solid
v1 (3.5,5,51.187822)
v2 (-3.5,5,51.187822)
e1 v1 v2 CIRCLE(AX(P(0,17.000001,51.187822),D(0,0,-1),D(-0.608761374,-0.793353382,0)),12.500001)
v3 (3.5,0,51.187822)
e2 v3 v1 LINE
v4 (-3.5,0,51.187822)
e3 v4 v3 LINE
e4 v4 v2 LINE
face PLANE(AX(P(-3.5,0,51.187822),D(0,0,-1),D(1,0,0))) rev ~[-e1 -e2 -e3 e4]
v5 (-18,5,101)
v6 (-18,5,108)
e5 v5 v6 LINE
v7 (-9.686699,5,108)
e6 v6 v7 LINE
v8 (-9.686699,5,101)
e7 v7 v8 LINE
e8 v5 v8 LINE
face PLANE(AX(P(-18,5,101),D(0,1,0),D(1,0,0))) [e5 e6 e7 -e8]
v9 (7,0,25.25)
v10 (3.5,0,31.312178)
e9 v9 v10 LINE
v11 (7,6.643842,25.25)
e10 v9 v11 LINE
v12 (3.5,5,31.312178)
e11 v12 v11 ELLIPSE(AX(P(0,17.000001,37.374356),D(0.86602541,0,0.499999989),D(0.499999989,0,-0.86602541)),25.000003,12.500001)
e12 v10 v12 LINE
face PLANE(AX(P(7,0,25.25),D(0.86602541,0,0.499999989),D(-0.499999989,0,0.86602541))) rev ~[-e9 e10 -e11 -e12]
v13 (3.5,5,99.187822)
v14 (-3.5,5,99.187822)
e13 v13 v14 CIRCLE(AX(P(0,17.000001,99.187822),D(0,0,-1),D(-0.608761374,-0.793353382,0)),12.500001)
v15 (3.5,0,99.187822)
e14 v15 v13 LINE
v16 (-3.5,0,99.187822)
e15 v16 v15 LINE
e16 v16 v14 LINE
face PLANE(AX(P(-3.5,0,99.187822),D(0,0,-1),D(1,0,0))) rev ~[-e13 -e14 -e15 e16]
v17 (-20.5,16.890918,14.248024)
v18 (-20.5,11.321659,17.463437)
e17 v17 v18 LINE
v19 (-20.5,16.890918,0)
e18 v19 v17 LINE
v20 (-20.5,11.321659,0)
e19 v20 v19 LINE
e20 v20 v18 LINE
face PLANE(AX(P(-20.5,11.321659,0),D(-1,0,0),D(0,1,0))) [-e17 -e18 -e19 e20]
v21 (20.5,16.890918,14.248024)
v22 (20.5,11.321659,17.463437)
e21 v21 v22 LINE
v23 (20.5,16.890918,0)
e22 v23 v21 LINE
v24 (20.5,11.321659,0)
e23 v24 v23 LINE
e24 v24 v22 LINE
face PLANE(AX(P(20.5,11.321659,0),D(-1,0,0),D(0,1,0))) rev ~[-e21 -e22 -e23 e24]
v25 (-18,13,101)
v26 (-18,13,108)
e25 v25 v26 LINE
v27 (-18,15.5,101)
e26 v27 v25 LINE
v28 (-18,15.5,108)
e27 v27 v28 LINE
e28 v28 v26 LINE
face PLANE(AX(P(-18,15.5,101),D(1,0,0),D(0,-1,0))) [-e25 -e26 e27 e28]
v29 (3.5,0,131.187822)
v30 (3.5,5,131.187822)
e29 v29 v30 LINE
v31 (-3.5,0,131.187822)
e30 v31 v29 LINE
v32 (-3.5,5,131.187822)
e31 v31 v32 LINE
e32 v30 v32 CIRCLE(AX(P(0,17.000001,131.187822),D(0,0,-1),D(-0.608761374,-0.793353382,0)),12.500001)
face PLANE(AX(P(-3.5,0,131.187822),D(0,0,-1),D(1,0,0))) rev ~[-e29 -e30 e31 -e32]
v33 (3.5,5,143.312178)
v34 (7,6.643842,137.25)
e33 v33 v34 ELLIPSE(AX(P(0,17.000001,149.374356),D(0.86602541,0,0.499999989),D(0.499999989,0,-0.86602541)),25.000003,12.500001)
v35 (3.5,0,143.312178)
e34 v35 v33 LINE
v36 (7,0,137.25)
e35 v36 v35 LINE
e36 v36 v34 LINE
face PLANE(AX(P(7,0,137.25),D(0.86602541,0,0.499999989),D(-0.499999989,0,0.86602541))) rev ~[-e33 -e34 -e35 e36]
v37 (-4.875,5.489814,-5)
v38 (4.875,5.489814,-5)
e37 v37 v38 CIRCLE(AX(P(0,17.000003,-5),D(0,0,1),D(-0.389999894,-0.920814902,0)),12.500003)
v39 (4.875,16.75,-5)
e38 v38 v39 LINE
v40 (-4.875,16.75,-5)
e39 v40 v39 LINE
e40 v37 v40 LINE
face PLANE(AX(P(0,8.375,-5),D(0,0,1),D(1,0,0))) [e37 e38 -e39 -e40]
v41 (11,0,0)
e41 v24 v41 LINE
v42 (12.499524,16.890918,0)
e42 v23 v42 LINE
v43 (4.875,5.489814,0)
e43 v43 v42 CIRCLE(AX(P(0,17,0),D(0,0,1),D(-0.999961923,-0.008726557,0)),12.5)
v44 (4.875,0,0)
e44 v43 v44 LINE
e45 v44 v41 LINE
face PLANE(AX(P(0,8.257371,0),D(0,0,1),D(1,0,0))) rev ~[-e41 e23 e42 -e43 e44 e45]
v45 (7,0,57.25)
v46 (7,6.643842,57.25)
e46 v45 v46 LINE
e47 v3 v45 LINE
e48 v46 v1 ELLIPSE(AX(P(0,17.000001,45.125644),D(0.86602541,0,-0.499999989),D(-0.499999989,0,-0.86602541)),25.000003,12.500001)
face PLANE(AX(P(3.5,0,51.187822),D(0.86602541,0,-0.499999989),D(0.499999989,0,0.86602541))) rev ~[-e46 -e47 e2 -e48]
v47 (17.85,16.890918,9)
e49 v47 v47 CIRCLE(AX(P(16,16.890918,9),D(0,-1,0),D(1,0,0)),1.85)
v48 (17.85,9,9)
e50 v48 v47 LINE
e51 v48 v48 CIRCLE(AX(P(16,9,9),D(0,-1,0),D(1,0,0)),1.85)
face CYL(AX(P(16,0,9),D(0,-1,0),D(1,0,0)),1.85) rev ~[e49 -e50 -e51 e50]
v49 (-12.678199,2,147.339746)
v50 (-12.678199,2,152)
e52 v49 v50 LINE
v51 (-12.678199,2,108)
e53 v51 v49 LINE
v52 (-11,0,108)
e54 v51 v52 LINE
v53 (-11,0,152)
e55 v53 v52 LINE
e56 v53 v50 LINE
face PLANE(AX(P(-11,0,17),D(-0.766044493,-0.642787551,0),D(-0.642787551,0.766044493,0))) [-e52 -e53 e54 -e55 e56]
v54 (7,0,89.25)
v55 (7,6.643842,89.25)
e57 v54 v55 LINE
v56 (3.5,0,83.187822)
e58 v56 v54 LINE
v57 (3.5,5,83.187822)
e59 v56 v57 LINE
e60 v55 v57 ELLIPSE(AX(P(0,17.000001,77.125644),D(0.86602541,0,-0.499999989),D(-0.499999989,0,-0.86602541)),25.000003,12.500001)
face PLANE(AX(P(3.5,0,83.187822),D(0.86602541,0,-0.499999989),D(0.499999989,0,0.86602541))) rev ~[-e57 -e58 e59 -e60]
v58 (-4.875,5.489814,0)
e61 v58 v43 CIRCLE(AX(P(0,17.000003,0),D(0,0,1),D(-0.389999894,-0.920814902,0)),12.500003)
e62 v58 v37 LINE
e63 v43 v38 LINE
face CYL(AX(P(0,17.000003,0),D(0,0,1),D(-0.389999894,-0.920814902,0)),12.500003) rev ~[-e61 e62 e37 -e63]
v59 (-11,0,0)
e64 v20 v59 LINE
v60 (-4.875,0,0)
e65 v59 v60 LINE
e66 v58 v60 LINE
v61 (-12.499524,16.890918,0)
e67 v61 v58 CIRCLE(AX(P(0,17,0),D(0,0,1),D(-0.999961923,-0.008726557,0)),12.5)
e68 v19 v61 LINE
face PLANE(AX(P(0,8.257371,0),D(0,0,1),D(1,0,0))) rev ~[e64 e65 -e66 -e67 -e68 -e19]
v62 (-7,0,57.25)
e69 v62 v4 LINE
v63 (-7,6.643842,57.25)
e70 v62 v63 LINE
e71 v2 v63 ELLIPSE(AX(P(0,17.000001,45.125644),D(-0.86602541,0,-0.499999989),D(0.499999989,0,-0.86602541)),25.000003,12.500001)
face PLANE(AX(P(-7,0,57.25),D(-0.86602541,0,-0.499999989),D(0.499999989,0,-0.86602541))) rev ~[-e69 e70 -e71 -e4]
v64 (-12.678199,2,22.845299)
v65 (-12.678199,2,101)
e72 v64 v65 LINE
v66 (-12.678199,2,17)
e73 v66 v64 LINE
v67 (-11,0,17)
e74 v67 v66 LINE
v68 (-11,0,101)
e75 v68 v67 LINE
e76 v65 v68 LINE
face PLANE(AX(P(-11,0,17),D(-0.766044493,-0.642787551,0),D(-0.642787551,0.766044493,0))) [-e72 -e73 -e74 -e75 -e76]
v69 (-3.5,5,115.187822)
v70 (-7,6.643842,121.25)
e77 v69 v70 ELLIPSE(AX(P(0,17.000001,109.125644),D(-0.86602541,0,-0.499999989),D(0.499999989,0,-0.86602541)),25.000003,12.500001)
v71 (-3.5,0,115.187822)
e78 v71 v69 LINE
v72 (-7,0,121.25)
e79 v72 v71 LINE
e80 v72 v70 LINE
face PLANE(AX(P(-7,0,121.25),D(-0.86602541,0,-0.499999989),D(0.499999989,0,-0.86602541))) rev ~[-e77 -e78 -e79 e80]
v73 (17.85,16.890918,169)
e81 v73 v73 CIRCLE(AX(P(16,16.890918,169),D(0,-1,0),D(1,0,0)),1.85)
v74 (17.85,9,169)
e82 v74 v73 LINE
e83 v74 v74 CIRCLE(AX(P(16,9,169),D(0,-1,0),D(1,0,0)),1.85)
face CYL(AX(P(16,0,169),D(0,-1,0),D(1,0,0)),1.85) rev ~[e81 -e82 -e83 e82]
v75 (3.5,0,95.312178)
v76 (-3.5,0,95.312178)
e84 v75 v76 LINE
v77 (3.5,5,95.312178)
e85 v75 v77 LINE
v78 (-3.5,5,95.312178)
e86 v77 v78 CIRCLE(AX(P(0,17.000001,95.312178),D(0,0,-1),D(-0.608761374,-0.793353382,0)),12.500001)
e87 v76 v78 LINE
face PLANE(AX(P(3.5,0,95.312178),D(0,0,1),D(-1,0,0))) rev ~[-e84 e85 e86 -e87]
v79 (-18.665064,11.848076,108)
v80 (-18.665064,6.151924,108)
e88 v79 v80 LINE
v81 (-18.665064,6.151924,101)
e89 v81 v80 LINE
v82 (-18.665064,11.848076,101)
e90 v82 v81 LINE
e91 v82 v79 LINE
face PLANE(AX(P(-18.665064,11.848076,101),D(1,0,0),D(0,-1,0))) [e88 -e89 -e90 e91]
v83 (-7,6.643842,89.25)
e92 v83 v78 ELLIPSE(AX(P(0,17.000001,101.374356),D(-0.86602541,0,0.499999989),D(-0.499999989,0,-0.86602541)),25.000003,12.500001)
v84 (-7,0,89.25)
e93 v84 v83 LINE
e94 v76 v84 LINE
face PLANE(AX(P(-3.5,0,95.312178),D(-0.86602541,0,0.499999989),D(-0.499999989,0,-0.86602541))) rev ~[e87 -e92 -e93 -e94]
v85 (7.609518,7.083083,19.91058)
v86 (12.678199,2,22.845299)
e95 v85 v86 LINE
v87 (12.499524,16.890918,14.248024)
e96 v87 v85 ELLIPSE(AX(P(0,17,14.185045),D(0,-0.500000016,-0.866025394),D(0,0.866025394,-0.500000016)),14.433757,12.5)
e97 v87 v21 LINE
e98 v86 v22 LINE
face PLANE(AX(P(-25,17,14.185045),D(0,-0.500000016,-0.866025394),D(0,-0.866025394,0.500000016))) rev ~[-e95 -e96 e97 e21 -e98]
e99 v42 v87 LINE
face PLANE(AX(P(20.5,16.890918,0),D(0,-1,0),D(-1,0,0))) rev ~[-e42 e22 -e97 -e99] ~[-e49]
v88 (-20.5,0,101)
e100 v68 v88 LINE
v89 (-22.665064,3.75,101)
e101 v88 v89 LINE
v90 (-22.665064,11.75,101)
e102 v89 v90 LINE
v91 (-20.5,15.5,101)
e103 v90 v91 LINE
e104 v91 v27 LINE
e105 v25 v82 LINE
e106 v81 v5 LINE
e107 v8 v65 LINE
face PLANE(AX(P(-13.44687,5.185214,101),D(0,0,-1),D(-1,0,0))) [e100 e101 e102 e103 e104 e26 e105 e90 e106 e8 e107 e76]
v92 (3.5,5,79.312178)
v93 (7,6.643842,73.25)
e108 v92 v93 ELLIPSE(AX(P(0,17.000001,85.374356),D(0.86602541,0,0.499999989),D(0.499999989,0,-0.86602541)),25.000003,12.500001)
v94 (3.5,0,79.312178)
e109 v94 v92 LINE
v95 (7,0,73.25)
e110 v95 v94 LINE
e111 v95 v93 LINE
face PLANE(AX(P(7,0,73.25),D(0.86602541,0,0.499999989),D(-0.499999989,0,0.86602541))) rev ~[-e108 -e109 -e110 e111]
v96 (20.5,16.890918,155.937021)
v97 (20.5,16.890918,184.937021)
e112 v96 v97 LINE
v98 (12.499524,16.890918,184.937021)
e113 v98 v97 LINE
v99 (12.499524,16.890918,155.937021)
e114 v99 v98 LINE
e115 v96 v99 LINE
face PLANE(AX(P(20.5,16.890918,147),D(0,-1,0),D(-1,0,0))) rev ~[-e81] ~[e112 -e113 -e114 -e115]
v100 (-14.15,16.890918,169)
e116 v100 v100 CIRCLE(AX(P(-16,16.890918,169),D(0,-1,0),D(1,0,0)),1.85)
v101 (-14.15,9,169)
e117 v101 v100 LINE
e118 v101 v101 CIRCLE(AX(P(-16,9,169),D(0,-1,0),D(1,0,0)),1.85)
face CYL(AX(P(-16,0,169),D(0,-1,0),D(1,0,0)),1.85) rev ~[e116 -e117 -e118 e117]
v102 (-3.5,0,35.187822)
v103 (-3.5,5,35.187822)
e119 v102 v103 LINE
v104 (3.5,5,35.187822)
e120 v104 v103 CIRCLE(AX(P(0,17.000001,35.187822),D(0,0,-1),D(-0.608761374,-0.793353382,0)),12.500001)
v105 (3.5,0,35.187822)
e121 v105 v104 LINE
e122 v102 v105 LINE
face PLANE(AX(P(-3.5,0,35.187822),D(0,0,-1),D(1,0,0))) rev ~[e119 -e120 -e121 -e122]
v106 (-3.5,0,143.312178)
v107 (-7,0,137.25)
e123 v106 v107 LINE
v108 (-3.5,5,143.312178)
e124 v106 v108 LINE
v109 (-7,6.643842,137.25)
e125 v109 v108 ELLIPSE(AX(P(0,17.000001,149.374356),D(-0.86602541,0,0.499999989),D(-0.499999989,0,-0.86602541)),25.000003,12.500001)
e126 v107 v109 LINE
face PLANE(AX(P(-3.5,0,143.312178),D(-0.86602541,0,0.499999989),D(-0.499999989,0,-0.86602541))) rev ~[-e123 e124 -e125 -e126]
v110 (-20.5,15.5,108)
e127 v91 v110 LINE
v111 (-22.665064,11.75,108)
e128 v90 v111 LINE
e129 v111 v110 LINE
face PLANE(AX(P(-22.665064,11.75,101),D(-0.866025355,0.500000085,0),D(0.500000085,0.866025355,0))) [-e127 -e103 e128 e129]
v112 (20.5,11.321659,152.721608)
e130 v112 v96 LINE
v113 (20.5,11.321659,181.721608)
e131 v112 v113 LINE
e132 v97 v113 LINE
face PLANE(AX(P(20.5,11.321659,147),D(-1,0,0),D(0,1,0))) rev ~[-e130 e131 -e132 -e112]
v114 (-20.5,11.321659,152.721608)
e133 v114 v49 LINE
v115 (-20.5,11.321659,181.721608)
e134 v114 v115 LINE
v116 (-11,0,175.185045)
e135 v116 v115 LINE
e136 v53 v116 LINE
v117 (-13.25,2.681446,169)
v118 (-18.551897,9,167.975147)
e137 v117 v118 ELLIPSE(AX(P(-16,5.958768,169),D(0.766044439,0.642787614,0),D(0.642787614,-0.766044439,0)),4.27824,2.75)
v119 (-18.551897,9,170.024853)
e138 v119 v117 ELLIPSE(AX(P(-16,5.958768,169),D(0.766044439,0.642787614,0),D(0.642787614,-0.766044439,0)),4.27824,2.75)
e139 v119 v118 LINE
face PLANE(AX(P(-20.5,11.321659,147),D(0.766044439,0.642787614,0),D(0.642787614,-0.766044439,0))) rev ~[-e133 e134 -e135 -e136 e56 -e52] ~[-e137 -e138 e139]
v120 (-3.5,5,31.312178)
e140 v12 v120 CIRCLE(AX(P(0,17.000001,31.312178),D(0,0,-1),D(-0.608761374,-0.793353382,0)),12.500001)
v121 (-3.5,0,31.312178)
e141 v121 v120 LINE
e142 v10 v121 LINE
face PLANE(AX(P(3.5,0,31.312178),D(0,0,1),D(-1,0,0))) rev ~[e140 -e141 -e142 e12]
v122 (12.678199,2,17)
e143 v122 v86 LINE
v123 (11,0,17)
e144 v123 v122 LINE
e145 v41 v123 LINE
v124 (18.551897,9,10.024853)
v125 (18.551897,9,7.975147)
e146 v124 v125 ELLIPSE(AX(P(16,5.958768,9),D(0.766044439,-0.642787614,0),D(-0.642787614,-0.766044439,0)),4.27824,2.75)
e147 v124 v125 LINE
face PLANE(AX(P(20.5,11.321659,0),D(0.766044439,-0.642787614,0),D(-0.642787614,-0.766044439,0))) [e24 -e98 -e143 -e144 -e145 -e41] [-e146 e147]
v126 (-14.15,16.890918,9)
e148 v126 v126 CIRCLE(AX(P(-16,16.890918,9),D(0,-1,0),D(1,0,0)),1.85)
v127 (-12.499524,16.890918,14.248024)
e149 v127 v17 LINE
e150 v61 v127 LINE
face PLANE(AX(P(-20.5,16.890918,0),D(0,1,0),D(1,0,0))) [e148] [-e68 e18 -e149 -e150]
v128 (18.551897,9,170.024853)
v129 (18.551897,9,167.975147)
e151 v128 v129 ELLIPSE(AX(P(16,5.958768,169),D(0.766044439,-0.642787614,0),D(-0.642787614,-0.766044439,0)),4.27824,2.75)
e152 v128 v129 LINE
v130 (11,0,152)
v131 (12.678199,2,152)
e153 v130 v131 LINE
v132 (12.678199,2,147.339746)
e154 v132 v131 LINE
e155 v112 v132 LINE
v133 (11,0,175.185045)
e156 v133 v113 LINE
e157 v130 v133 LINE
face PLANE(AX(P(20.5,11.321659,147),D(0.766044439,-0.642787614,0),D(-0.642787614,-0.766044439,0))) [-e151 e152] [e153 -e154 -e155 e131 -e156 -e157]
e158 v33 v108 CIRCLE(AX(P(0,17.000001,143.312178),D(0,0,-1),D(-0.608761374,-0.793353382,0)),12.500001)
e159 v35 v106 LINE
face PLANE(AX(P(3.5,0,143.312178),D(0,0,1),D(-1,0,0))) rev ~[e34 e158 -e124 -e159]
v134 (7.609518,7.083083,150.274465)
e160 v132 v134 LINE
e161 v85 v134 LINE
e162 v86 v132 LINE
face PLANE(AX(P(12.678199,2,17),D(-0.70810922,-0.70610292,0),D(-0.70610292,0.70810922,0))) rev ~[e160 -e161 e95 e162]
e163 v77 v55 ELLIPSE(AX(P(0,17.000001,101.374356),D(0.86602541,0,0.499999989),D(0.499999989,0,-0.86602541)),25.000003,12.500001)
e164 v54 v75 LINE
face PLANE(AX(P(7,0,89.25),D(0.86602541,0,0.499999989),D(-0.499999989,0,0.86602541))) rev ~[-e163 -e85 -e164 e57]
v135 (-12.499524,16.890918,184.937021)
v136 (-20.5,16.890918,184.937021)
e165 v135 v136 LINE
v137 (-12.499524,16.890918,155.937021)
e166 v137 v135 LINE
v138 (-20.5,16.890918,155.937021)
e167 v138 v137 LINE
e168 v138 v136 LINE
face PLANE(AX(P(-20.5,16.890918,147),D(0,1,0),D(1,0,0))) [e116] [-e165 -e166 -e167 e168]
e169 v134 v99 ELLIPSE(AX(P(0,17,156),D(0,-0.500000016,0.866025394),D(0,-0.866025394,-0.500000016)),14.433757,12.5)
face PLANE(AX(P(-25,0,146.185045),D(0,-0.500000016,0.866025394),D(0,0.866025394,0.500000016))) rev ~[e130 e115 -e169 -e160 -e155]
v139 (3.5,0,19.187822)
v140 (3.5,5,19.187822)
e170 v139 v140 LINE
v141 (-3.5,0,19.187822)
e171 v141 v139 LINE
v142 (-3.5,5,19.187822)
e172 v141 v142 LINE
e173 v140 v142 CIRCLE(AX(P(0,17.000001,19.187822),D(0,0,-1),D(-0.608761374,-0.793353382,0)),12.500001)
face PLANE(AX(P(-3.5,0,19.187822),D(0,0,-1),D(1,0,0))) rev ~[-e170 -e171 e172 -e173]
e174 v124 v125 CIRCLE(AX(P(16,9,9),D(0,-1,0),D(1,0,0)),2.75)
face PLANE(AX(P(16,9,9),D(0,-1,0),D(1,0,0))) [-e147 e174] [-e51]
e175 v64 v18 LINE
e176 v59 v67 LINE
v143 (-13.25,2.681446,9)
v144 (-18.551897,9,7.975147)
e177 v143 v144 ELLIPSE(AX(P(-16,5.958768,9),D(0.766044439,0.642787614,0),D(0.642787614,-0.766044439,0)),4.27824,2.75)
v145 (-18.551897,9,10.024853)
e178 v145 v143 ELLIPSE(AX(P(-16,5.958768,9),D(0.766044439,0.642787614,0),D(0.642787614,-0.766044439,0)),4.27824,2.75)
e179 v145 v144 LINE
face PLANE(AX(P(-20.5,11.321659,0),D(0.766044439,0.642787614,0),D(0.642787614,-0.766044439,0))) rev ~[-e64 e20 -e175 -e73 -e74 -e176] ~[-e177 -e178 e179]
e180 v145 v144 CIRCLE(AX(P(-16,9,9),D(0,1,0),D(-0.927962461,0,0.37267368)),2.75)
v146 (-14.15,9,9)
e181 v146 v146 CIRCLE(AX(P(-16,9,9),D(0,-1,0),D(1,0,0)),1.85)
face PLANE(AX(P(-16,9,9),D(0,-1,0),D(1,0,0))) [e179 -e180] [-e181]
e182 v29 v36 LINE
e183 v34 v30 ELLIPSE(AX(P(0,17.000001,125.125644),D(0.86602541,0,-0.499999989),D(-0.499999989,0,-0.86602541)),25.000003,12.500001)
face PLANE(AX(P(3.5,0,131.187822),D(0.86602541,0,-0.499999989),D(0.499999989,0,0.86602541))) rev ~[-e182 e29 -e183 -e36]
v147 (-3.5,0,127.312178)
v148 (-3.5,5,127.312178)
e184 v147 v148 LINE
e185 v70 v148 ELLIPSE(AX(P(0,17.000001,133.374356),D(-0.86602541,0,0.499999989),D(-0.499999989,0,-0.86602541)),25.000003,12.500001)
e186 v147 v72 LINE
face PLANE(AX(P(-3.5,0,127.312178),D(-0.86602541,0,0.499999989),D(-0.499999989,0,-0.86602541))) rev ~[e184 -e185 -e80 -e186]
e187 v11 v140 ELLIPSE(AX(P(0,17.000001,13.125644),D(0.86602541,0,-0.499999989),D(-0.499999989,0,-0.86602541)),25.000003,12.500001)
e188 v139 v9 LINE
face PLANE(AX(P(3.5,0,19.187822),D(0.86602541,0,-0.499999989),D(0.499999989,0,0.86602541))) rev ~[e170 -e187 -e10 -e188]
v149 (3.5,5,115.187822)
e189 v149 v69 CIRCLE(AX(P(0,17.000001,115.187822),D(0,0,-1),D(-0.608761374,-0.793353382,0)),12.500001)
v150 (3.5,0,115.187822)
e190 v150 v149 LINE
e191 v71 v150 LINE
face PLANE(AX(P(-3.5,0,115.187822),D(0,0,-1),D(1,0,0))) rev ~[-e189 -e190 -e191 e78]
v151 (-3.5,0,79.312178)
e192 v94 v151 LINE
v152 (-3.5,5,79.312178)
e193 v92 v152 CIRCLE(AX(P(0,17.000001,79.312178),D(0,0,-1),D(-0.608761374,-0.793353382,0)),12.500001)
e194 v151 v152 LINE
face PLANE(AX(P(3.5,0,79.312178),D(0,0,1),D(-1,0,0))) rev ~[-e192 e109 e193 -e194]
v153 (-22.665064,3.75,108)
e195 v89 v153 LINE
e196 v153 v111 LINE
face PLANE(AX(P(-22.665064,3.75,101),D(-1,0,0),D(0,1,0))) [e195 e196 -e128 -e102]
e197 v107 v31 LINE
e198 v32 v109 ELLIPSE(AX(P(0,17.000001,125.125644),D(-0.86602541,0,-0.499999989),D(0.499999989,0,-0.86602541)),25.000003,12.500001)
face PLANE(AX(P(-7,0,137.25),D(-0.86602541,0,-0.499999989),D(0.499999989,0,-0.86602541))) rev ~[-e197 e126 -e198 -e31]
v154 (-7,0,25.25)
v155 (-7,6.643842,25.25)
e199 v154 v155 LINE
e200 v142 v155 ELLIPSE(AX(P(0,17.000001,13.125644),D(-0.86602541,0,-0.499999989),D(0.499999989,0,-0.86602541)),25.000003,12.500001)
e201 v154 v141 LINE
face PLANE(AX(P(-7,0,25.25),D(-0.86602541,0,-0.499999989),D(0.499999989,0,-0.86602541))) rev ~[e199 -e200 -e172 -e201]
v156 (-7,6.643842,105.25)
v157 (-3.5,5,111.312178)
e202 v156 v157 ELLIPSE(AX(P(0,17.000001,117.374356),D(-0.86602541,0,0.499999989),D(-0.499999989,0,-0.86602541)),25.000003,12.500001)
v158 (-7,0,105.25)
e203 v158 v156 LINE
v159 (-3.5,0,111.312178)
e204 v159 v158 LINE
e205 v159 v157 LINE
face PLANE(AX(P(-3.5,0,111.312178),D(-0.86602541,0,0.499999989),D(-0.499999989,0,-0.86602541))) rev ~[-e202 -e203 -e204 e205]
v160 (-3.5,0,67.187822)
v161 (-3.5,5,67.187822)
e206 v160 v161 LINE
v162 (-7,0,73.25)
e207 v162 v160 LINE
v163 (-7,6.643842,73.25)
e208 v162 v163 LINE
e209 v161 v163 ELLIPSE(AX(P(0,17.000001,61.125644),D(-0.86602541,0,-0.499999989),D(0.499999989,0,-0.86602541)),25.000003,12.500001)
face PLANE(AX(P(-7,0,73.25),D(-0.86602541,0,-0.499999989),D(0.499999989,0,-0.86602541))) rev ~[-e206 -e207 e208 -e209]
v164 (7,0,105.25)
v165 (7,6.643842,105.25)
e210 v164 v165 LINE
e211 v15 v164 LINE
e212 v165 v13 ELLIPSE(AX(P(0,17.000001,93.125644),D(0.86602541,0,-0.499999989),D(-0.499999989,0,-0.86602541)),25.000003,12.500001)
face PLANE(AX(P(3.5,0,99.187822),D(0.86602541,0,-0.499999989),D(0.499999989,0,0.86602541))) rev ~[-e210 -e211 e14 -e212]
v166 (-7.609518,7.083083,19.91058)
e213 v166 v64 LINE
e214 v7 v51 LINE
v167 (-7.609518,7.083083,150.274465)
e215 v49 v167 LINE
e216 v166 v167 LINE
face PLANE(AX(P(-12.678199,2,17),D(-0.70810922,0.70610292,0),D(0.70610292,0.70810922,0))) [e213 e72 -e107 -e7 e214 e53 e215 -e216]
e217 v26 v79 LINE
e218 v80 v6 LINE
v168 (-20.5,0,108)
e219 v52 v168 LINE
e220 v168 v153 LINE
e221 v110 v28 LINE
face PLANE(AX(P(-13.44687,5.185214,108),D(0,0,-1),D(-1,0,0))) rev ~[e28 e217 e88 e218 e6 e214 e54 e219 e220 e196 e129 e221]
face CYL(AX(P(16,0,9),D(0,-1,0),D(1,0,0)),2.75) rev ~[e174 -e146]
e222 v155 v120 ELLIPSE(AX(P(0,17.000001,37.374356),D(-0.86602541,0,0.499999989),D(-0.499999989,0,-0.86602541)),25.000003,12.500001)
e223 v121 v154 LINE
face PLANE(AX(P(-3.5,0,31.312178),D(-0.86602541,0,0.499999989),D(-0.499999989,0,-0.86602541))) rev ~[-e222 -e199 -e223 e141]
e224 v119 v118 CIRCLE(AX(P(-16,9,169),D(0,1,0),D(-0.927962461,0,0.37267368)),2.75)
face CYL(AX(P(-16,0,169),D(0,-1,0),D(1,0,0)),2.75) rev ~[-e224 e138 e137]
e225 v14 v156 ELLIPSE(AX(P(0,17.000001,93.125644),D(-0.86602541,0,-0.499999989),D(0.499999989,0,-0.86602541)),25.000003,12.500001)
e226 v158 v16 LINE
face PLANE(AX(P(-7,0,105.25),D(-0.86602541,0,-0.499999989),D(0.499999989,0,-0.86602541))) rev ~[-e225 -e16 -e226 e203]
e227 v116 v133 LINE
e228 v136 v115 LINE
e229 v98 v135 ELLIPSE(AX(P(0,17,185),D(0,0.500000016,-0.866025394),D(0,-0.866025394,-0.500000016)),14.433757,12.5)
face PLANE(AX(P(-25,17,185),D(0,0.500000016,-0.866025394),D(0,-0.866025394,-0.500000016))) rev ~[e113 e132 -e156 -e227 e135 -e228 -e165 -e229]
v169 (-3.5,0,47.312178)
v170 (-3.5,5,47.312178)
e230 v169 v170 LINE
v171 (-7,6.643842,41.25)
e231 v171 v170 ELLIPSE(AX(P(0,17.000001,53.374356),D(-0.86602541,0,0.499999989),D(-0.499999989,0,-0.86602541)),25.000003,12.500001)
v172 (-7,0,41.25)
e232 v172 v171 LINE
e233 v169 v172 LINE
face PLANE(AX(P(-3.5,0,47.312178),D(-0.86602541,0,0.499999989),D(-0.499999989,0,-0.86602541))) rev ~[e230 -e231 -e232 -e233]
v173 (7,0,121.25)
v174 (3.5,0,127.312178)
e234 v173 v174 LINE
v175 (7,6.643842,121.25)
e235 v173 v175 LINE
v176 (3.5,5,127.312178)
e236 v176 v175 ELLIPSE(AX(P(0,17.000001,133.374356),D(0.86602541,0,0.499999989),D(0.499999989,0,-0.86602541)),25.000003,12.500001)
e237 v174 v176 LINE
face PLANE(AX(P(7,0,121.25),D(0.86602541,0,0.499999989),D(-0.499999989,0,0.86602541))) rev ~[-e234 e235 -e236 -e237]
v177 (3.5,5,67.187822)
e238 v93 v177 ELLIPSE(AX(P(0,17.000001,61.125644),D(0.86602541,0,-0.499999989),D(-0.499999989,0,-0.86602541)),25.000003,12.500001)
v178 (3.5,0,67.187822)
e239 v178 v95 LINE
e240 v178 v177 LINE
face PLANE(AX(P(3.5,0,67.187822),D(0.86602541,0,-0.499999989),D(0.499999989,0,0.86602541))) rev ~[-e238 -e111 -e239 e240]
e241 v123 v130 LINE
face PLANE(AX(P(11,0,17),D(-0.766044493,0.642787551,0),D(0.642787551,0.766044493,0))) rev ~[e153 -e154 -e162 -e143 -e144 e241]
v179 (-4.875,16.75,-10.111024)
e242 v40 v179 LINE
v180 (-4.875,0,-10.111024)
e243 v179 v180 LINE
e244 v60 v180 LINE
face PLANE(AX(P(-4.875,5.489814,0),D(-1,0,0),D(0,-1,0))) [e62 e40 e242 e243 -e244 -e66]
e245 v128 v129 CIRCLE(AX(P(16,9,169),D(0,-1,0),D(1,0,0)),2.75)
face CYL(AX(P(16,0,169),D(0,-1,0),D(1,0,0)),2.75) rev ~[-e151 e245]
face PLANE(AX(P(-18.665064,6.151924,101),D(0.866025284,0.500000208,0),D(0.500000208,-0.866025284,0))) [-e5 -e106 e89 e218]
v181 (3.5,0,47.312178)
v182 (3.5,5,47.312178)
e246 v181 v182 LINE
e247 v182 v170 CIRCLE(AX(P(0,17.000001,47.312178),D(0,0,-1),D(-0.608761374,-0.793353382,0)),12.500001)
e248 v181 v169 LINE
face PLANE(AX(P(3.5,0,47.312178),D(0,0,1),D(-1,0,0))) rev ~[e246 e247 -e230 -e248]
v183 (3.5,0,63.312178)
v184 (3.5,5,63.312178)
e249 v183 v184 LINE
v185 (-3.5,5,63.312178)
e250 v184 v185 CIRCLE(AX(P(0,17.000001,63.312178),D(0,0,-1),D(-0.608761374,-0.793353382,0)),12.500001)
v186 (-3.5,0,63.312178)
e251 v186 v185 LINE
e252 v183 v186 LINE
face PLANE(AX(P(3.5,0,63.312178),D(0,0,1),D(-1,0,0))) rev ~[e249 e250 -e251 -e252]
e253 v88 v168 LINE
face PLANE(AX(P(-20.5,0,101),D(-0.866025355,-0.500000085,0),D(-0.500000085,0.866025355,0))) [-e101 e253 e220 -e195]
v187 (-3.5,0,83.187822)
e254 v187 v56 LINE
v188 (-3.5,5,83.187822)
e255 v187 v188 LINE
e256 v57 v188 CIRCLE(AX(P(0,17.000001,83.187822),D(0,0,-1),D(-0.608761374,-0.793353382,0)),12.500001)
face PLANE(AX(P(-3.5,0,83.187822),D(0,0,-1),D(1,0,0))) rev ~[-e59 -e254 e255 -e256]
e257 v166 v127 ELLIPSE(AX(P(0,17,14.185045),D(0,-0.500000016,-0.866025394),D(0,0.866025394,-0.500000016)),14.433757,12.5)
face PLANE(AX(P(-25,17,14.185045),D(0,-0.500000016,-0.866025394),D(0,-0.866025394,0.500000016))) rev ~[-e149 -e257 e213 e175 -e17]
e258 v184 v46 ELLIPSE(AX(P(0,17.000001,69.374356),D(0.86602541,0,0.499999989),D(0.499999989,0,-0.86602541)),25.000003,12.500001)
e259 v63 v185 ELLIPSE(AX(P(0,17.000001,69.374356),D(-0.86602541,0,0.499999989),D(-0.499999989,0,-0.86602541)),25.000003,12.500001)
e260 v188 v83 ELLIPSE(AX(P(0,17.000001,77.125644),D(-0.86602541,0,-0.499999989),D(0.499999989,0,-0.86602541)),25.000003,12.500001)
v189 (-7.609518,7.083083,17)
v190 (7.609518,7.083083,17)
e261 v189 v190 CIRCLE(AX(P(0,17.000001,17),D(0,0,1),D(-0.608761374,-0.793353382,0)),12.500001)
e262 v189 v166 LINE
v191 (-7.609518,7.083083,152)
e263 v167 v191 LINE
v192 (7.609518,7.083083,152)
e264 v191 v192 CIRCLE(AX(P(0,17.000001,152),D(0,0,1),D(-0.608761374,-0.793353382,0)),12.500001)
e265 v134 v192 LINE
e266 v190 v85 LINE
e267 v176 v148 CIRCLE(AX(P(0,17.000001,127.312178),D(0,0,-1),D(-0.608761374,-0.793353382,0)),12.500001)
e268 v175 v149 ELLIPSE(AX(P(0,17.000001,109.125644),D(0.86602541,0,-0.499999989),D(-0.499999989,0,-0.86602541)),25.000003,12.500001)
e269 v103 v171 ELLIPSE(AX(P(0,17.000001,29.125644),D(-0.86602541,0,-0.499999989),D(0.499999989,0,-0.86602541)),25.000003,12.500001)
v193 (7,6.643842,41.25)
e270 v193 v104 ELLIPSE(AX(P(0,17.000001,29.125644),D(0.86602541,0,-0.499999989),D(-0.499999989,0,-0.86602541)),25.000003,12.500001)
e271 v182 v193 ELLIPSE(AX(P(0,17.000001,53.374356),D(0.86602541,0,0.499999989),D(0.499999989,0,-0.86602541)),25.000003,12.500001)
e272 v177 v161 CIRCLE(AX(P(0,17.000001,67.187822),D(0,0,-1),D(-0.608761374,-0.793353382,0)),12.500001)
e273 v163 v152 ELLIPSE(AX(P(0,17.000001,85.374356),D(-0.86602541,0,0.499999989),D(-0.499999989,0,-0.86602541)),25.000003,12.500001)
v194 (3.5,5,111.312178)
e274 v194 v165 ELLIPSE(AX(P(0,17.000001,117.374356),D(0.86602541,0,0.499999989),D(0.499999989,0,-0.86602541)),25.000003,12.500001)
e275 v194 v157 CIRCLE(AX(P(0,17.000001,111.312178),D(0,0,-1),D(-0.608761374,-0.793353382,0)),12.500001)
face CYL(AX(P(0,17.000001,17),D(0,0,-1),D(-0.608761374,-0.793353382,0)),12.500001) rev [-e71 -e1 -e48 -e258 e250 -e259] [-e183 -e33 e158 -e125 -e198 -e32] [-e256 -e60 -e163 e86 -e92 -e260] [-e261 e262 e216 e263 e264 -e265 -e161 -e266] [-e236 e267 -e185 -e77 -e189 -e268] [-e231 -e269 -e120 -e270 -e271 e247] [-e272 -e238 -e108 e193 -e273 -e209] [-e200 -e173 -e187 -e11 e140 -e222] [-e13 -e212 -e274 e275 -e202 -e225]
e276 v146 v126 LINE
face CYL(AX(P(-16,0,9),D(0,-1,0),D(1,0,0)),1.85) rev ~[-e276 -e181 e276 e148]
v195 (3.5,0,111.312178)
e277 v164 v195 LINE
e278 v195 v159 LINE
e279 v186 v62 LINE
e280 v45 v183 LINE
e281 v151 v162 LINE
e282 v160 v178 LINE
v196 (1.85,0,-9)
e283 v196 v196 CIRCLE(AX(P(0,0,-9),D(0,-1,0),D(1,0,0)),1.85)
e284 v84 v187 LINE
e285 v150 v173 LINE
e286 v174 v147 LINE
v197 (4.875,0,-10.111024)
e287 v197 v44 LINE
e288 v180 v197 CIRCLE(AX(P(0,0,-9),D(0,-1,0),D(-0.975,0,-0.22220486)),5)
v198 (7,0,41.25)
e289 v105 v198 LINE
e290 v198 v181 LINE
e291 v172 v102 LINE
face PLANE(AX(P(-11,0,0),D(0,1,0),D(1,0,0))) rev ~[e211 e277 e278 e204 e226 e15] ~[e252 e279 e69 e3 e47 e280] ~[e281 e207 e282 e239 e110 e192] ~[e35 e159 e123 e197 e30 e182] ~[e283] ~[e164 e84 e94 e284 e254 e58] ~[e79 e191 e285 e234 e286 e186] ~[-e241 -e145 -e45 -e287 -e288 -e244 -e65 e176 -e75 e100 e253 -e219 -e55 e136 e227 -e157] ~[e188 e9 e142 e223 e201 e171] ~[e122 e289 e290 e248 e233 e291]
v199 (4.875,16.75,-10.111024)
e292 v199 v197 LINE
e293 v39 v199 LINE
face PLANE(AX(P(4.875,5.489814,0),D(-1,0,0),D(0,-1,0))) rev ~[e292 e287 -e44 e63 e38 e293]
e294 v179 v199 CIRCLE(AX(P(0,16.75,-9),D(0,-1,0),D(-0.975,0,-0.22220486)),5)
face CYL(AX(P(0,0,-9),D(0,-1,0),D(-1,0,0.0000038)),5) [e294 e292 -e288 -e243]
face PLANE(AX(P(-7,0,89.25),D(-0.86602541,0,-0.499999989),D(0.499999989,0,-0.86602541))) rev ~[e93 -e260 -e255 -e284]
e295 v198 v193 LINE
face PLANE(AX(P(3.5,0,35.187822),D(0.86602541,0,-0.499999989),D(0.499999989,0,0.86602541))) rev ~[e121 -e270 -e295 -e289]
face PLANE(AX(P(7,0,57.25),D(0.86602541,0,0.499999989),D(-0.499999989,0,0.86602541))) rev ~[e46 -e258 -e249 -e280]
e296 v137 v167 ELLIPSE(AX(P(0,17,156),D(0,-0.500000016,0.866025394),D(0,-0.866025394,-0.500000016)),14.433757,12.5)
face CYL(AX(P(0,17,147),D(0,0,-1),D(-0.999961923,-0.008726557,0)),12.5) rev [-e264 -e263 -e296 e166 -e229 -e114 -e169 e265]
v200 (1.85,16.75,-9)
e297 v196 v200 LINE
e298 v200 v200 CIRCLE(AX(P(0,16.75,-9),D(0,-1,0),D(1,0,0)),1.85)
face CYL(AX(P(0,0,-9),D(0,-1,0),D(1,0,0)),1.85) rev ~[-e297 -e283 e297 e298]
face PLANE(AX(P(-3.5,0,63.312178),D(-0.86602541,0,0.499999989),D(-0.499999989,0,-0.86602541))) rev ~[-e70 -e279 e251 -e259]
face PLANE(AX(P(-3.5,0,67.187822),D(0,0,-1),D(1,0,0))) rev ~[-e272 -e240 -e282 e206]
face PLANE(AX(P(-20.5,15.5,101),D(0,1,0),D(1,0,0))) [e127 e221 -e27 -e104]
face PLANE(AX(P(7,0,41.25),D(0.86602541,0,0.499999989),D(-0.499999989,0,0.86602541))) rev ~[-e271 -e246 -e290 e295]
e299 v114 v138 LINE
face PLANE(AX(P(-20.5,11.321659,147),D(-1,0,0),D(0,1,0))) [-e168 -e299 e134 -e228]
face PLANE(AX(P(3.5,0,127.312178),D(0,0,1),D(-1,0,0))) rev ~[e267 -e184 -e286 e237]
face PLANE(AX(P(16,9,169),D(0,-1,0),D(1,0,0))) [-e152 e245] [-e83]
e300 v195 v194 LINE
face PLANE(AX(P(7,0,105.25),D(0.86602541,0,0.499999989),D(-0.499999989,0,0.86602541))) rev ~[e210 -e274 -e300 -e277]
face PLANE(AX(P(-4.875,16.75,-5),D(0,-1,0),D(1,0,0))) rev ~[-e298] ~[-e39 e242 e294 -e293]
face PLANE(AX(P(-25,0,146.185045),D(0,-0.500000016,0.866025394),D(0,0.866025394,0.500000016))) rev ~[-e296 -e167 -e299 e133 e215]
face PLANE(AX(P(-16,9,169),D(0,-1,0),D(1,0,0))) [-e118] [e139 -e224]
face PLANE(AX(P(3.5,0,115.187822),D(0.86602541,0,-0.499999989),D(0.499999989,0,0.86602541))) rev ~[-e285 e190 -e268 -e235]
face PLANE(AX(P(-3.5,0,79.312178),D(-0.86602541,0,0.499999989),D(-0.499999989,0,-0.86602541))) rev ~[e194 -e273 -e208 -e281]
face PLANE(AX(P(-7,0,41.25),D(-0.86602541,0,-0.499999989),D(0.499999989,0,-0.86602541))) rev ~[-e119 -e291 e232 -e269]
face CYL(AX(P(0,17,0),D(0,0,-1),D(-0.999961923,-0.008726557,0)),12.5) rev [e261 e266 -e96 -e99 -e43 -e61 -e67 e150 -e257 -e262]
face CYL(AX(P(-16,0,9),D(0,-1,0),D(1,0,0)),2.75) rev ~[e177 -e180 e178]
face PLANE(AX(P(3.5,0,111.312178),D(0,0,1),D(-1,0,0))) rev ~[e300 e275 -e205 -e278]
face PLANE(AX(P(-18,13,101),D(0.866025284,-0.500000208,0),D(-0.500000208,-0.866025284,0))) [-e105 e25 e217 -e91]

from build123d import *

# Parameters (mm, degrees)
SKETCH216_R         = 1.85
EXTRUDE136028_DEPTH = 20
EXTRUDE136035_DEPTH = 50
SKETCH219_R         = 2.75
EXTRUDE136031_DEPTH = 9
SKETCH218_R         = 1.85
EXTRUDE136030_DEPTH = 20
EXTRUDE136029_DEPTH = 38
EXTRUDE136036_DEPTH = 50
SKETCH222_R         = 2.75
EXTRUDE136034_DEPTH = 9
SKETCH221_R         = 1.85
EXTRUDE136033_DEPTH = 20
EXTRUDE136032_DEPTH = 24
EXTRUDE136037_DEPTH = 14
SKETCH226_W         = 9.75
SKETCH226_H         = 16.75
EXTRUDE136038_DEPTH = 9
EXTRUDE136039_DEPTH = 7
EXTRUDE136027_DEPTH = 135


with BuildPart() as extrude136028:
    # Sketch216 → Extrude136028 (new body)
    with BuildSketch(Plane.XZ):
        with Locations((0, -9)):
            Circle(SKETCH216_R)
        Polygon((3.5, 19.187822), (7, 25.25), (3.5, 31.312178), (-3.5, 31.312178), (-7, 25.25), (-3.5, 19.187822), align=None)
        Polygon((3.5, 35.187822), (7, 41.25), (3.5, 47.312178), (-3.5, 47.312178), (-7, 41.25), (-3.5, 35.187822), align=None)
        Polygon((3.5, 51.187822), (7, 57.25), (3.5, 63.312178), (-3.5, 63.312178), (-7, 57.25), (-3.5, 51.187822), align=None)
        Polygon((3.5, 67.187822), (7, 73.25), (3.5, 79.312178), (-3.5, 79.312178), (-7, 73.25), (-3.5, 67.187822), align=None)
        Polygon((3.5, 83.187822), (7, 89.25), (3.5, 95.312178), (-3.5, 95.312178), (-7, 89.25), (-3.5, 83.187822), align=None)
        Polygon((3.5, 99.187822), (7, 105.25), (3.5, 111.312178), (-3.5, 111.312178), (-7, 105.25), (-3.5, 99.187822), align=None)
        Polygon((3.5, 115.187822), (7, 121.25), (3.5, 127.312178), (-3.5, 127.312178), (-7, 121.25), (-3.5, 115.187822), align=None)
        Polygon((3.5, 131.187822), (7, 137.25), (3.5, 143.312178), (-3.5, 143.312178), (-7, 137.25), (-3.5, 131.187822), align=None)
        with BuildLine():
            Line((5, -8.999981), (5, -15.999981))
            Line((5, -15.999981), (-5, -15.999981))
            Line((-5, -15.999981), (-5, -8.999981))
            ThreePointArc((-5, -8.999981), (0, -14), (5, -8.999981))
        make_face()
    extrude(amount=-EXTRUDE136028_DEPTH)


with BuildPart() as extrude136035:
    # Sketch223 → Extrude136035 (new body)
    with BuildSketch(Plane.YZ):
        Polygon((0, -9.814955), (17, 0), (17, -9.814955), align=None)
        Polygon((17, 29), (0, 19.185045), (0, 29), align=None)
    extrude(amount=EXTRUDE136035_DEPTH)


with BuildPart() as extrude136035_1:
    # Extrude136035 placement: moved
    add(extrude136035.part.moved(Location((-25, 0, 0))))


with BuildPart() as extrude136031:
    # Sketch219 → Extrude136031 (new body)
    with BuildSketch(Plane.XZ):
        with Locations((-16, 0)):
            Circle(SKETCH219_R)
        with Locations((16, 0)):
            Circle(SKETCH219_R)
    extrude(amount=-EXTRUDE136031_DEPTH)


with BuildPart() as fusion034004041026:
    # Sketch218 → Extrude136030 (new body)
    with BuildSketch(Plane.XZ):
        with Locations((-16, 0)):
            Circle(SKETCH218_R)
        with Locations((16, 0)):
            Circle(SKETCH218_R)
    extrude(amount=-EXTRUDE136030_DEPTH)

    # Fusion034004041024: union Extrude136031
    add(extrude136031.part)


with BuildPart() as fusion034004041026_1:
    # Fusion034004041024 placement: moved
    add(fusion034004041026.part.moved(Location((0, 0, 13))))

    # Fusion034004041026: union Extrude136035
    add(extrude136035_1.part)


with BuildPart() as cut009010006006006005003:
    # Sketch217 → Extrude136029 (new body)
    with BuildSketch(Plane.XY):
        with BuildLine():
            Line((-11, 0), (11, 0))
            Line((20.5, 11.321659), (11, 0))
            Line((20.5, 11.321659), (20.5, 16.890918))
            Line((20.5, 16.890918), (12.499524, 16.890918))
            ThreePointArc((-12.499524, 16.890918), (0, 4.5), (12.499524, 16.890918))
            Line((-20.5, 16.890918), (-12.499524, 16.890918))
            Line((-20.5, 11.321659), (-20.5, 16.890918))
            Line((-20.5, 11.321659), (-11, 0))
        make_face()
    extrude(amount=EXTRUDE136029_DEPTH)


with BuildPart() as cut009010006006006005003_1:
    # Extrude136029 placement: moved
    add(cut009010006006006005003.part.moved(Location((0, 0, -9))))

    # Cut009010006006006005003: cut Fusion034004041026
    add(fusion034004041026_1.part, mode=Mode.SUBTRACT)


with BuildPart() as cut009010006006006005003_2:
    # Cut009010006006006005003 placement: moved
    add(cut009010006006006005003_1.part.moved(Location((0, 0, 156))))


with BuildPart() as extrude136036:
    # Sketch224 → Extrude136036 (new body)
    with BuildSketch(Plane.YZ):
        Polygon((0, 24), (17, 24), (17, 14.185045), align=None)
    extrude(amount=EXTRUDE136036_DEPTH)


with BuildPart() as extrude136036_1:
    # Extrude136036 placement: moved
    add(extrude136036.part.moved(Location((-25, 0, 0))))


with BuildPart() as extrude136034:
    # Sketch222 → Extrude136034 (new body)
    with BuildSketch(Plane.XZ):
        with Locations((-16, 0)):
            Circle(SKETCH222_R)
        with Locations((16, 0)):
            Circle(SKETCH222_R)
    extrude(amount=-EXTRUDE136034_DEPTH)


with BuildPart() as fusion034004041025:
    # Sketch221 → Extrude136033 (new body)
    with BuildSketch(Plane.XZ):
        with Locations((-16, 0)):
            Circle(SKETCH221_R)
        with Locations((16, 0)):
            Circle(SKETCH221_R)
    extrude(amount=-EXTRUDE136033_DEPTH)

    # Fusion034004041025: union Extrude136034
    add(extrude136034.part)


with BuildPart() as fusion034004041025_1:
    # Fusion034004041025 placement: moved
    add(fusion034004041025.part.moved(Location((0, 0, 9))))


with BuildPart() as cut009010006006006005004:
    # Sketch220 → Extrude136032 (new body)
    with BuildSketch(Plane.XY):
        with BuildLine():
            Line((-11, 0), (11, 0))
            Line((20.5, 11.321659), (11, 0))
            Line((20.5, 11.321659), (20.5, 16.890918))
            Line((20.5, 16.890918), (12.499524, 16.890918))
            ThreePointArc((-12.499524, 16.890918), (0, 4.5), (12.499524, 16.890918))
            Line((-20.5, 16.890918), (-12.499524, 16.890918))
            Line((-20.5, 11.321659), (-20.5, 16.890918))
            Line((-20.5, 11.321659), (-11, 0))
        make_face()
    extrude(amount=EXTRUDE136032_DEPTH)

    # Cut009010006006006005002: cut Fusion034004041025
    add(fusion034004041025_1.part, mode=Mode.SUBTRACT)

    # Cut009010006006006005004: cut Extrude136036
    add(extrude136036_1.part, mode=Mode.SUBTRACT)


with BuildPart() as extrude136037:
    # Sketch225 → Extrude136037 (new body)
    with BuildSketch(Plane.XY):
        with BuildLine():
            Line((-4.875, 0), (4.875, 0))
            Line((4.875, 5.489814), (4.875, 0))
            ThreePointArc((-4.875, 5.489814), (0, 4.5), (4.875, 5.489814))
            Line((-4.875, 5.489814), (-4.875, 0))
        make_face()
    extrude(amount=-EXTRUDE136037_DEPTH)


with BuildPart() as extrude136038:
    # Sketch226 → Extrude136038 (new body)
    with BuildSketch(Plane.XY):
        with Locations((0, 8.375)):
            Rectangle(SKETCH226_W, SKETCH226_H)
    extrude(amount=-EXTRUDE136038_DEPTH)


with BuildPart() as extrude136038_1:
    # Extrude136038 placement: moved
    add(extrude136038.part.moved(Location((0, 0, -5))))


with BuildPart() as extrude136039:
    # Sketch227 → Extrude136039 (new body)
    with BuildSketch(Plane.XY):
        Polygon((0, 5), (0, 0), (-20.5, 0), (-22.665064, 3.75), (-22.665064, 11.75), (-20.5, 15.5), (-18, 15.5), (-18, 13), (-18.665064, 11.848076), (-18.665064, 6.151924), (-18, 5), align=None)
    extrude(amount=EXTRUDE136039_DEPTH)


with BuildPart() as extrude136039_1:
    # Extrude136039 placement: moved
    add(extrude136039.part.moved(Location((0, 0, 101))))


with BuildPart() as cut009010006006006005005:
    # Sketch215 → Extrude136027 (new body)
    with BuildSketch(Plane.XY):
        with BuildLine():
            Line((-11, 0), (11, 0))
            Line((11, 0), (12.678199, 2))
            Line((12.678199, 2), (7.609518, 7.083083))
            ThreePointArc((-7.609518, 7.083083), (0, 4.5), (7.609518, 7.083083))
            Line((-12.678199, 2), (-7.609518, 7.083083))
            Line((-11, 0), (-12.678199, 2))
        make_face()
    extrude(amount=EXTRUDE136027_DEPTH)


with BuildPart() as cut009010006006006005005_1:
    # Extrude136027 placement: moved
    add(cut009010006006006005005.part.moved(Location((0, 0, 17))))

    # Fusion034004041027: union Cut009010006006006005003, Cut009010006006006005004, Extrude136037, Extrude136038, Extrude136039
    add(cut009010006006006005003_2.part)
    add(cut009010006006006005004.part)
    add(extrude136037.part)
    add(extrude136038_1.part)
    add(extrude136039_1.part)

    # Cut009010006006006005005: cut Extrude136028
    add(extrude136028.part, mode=Mode.SUBTRACT)


solid = cut009010006006006005005_1.part
